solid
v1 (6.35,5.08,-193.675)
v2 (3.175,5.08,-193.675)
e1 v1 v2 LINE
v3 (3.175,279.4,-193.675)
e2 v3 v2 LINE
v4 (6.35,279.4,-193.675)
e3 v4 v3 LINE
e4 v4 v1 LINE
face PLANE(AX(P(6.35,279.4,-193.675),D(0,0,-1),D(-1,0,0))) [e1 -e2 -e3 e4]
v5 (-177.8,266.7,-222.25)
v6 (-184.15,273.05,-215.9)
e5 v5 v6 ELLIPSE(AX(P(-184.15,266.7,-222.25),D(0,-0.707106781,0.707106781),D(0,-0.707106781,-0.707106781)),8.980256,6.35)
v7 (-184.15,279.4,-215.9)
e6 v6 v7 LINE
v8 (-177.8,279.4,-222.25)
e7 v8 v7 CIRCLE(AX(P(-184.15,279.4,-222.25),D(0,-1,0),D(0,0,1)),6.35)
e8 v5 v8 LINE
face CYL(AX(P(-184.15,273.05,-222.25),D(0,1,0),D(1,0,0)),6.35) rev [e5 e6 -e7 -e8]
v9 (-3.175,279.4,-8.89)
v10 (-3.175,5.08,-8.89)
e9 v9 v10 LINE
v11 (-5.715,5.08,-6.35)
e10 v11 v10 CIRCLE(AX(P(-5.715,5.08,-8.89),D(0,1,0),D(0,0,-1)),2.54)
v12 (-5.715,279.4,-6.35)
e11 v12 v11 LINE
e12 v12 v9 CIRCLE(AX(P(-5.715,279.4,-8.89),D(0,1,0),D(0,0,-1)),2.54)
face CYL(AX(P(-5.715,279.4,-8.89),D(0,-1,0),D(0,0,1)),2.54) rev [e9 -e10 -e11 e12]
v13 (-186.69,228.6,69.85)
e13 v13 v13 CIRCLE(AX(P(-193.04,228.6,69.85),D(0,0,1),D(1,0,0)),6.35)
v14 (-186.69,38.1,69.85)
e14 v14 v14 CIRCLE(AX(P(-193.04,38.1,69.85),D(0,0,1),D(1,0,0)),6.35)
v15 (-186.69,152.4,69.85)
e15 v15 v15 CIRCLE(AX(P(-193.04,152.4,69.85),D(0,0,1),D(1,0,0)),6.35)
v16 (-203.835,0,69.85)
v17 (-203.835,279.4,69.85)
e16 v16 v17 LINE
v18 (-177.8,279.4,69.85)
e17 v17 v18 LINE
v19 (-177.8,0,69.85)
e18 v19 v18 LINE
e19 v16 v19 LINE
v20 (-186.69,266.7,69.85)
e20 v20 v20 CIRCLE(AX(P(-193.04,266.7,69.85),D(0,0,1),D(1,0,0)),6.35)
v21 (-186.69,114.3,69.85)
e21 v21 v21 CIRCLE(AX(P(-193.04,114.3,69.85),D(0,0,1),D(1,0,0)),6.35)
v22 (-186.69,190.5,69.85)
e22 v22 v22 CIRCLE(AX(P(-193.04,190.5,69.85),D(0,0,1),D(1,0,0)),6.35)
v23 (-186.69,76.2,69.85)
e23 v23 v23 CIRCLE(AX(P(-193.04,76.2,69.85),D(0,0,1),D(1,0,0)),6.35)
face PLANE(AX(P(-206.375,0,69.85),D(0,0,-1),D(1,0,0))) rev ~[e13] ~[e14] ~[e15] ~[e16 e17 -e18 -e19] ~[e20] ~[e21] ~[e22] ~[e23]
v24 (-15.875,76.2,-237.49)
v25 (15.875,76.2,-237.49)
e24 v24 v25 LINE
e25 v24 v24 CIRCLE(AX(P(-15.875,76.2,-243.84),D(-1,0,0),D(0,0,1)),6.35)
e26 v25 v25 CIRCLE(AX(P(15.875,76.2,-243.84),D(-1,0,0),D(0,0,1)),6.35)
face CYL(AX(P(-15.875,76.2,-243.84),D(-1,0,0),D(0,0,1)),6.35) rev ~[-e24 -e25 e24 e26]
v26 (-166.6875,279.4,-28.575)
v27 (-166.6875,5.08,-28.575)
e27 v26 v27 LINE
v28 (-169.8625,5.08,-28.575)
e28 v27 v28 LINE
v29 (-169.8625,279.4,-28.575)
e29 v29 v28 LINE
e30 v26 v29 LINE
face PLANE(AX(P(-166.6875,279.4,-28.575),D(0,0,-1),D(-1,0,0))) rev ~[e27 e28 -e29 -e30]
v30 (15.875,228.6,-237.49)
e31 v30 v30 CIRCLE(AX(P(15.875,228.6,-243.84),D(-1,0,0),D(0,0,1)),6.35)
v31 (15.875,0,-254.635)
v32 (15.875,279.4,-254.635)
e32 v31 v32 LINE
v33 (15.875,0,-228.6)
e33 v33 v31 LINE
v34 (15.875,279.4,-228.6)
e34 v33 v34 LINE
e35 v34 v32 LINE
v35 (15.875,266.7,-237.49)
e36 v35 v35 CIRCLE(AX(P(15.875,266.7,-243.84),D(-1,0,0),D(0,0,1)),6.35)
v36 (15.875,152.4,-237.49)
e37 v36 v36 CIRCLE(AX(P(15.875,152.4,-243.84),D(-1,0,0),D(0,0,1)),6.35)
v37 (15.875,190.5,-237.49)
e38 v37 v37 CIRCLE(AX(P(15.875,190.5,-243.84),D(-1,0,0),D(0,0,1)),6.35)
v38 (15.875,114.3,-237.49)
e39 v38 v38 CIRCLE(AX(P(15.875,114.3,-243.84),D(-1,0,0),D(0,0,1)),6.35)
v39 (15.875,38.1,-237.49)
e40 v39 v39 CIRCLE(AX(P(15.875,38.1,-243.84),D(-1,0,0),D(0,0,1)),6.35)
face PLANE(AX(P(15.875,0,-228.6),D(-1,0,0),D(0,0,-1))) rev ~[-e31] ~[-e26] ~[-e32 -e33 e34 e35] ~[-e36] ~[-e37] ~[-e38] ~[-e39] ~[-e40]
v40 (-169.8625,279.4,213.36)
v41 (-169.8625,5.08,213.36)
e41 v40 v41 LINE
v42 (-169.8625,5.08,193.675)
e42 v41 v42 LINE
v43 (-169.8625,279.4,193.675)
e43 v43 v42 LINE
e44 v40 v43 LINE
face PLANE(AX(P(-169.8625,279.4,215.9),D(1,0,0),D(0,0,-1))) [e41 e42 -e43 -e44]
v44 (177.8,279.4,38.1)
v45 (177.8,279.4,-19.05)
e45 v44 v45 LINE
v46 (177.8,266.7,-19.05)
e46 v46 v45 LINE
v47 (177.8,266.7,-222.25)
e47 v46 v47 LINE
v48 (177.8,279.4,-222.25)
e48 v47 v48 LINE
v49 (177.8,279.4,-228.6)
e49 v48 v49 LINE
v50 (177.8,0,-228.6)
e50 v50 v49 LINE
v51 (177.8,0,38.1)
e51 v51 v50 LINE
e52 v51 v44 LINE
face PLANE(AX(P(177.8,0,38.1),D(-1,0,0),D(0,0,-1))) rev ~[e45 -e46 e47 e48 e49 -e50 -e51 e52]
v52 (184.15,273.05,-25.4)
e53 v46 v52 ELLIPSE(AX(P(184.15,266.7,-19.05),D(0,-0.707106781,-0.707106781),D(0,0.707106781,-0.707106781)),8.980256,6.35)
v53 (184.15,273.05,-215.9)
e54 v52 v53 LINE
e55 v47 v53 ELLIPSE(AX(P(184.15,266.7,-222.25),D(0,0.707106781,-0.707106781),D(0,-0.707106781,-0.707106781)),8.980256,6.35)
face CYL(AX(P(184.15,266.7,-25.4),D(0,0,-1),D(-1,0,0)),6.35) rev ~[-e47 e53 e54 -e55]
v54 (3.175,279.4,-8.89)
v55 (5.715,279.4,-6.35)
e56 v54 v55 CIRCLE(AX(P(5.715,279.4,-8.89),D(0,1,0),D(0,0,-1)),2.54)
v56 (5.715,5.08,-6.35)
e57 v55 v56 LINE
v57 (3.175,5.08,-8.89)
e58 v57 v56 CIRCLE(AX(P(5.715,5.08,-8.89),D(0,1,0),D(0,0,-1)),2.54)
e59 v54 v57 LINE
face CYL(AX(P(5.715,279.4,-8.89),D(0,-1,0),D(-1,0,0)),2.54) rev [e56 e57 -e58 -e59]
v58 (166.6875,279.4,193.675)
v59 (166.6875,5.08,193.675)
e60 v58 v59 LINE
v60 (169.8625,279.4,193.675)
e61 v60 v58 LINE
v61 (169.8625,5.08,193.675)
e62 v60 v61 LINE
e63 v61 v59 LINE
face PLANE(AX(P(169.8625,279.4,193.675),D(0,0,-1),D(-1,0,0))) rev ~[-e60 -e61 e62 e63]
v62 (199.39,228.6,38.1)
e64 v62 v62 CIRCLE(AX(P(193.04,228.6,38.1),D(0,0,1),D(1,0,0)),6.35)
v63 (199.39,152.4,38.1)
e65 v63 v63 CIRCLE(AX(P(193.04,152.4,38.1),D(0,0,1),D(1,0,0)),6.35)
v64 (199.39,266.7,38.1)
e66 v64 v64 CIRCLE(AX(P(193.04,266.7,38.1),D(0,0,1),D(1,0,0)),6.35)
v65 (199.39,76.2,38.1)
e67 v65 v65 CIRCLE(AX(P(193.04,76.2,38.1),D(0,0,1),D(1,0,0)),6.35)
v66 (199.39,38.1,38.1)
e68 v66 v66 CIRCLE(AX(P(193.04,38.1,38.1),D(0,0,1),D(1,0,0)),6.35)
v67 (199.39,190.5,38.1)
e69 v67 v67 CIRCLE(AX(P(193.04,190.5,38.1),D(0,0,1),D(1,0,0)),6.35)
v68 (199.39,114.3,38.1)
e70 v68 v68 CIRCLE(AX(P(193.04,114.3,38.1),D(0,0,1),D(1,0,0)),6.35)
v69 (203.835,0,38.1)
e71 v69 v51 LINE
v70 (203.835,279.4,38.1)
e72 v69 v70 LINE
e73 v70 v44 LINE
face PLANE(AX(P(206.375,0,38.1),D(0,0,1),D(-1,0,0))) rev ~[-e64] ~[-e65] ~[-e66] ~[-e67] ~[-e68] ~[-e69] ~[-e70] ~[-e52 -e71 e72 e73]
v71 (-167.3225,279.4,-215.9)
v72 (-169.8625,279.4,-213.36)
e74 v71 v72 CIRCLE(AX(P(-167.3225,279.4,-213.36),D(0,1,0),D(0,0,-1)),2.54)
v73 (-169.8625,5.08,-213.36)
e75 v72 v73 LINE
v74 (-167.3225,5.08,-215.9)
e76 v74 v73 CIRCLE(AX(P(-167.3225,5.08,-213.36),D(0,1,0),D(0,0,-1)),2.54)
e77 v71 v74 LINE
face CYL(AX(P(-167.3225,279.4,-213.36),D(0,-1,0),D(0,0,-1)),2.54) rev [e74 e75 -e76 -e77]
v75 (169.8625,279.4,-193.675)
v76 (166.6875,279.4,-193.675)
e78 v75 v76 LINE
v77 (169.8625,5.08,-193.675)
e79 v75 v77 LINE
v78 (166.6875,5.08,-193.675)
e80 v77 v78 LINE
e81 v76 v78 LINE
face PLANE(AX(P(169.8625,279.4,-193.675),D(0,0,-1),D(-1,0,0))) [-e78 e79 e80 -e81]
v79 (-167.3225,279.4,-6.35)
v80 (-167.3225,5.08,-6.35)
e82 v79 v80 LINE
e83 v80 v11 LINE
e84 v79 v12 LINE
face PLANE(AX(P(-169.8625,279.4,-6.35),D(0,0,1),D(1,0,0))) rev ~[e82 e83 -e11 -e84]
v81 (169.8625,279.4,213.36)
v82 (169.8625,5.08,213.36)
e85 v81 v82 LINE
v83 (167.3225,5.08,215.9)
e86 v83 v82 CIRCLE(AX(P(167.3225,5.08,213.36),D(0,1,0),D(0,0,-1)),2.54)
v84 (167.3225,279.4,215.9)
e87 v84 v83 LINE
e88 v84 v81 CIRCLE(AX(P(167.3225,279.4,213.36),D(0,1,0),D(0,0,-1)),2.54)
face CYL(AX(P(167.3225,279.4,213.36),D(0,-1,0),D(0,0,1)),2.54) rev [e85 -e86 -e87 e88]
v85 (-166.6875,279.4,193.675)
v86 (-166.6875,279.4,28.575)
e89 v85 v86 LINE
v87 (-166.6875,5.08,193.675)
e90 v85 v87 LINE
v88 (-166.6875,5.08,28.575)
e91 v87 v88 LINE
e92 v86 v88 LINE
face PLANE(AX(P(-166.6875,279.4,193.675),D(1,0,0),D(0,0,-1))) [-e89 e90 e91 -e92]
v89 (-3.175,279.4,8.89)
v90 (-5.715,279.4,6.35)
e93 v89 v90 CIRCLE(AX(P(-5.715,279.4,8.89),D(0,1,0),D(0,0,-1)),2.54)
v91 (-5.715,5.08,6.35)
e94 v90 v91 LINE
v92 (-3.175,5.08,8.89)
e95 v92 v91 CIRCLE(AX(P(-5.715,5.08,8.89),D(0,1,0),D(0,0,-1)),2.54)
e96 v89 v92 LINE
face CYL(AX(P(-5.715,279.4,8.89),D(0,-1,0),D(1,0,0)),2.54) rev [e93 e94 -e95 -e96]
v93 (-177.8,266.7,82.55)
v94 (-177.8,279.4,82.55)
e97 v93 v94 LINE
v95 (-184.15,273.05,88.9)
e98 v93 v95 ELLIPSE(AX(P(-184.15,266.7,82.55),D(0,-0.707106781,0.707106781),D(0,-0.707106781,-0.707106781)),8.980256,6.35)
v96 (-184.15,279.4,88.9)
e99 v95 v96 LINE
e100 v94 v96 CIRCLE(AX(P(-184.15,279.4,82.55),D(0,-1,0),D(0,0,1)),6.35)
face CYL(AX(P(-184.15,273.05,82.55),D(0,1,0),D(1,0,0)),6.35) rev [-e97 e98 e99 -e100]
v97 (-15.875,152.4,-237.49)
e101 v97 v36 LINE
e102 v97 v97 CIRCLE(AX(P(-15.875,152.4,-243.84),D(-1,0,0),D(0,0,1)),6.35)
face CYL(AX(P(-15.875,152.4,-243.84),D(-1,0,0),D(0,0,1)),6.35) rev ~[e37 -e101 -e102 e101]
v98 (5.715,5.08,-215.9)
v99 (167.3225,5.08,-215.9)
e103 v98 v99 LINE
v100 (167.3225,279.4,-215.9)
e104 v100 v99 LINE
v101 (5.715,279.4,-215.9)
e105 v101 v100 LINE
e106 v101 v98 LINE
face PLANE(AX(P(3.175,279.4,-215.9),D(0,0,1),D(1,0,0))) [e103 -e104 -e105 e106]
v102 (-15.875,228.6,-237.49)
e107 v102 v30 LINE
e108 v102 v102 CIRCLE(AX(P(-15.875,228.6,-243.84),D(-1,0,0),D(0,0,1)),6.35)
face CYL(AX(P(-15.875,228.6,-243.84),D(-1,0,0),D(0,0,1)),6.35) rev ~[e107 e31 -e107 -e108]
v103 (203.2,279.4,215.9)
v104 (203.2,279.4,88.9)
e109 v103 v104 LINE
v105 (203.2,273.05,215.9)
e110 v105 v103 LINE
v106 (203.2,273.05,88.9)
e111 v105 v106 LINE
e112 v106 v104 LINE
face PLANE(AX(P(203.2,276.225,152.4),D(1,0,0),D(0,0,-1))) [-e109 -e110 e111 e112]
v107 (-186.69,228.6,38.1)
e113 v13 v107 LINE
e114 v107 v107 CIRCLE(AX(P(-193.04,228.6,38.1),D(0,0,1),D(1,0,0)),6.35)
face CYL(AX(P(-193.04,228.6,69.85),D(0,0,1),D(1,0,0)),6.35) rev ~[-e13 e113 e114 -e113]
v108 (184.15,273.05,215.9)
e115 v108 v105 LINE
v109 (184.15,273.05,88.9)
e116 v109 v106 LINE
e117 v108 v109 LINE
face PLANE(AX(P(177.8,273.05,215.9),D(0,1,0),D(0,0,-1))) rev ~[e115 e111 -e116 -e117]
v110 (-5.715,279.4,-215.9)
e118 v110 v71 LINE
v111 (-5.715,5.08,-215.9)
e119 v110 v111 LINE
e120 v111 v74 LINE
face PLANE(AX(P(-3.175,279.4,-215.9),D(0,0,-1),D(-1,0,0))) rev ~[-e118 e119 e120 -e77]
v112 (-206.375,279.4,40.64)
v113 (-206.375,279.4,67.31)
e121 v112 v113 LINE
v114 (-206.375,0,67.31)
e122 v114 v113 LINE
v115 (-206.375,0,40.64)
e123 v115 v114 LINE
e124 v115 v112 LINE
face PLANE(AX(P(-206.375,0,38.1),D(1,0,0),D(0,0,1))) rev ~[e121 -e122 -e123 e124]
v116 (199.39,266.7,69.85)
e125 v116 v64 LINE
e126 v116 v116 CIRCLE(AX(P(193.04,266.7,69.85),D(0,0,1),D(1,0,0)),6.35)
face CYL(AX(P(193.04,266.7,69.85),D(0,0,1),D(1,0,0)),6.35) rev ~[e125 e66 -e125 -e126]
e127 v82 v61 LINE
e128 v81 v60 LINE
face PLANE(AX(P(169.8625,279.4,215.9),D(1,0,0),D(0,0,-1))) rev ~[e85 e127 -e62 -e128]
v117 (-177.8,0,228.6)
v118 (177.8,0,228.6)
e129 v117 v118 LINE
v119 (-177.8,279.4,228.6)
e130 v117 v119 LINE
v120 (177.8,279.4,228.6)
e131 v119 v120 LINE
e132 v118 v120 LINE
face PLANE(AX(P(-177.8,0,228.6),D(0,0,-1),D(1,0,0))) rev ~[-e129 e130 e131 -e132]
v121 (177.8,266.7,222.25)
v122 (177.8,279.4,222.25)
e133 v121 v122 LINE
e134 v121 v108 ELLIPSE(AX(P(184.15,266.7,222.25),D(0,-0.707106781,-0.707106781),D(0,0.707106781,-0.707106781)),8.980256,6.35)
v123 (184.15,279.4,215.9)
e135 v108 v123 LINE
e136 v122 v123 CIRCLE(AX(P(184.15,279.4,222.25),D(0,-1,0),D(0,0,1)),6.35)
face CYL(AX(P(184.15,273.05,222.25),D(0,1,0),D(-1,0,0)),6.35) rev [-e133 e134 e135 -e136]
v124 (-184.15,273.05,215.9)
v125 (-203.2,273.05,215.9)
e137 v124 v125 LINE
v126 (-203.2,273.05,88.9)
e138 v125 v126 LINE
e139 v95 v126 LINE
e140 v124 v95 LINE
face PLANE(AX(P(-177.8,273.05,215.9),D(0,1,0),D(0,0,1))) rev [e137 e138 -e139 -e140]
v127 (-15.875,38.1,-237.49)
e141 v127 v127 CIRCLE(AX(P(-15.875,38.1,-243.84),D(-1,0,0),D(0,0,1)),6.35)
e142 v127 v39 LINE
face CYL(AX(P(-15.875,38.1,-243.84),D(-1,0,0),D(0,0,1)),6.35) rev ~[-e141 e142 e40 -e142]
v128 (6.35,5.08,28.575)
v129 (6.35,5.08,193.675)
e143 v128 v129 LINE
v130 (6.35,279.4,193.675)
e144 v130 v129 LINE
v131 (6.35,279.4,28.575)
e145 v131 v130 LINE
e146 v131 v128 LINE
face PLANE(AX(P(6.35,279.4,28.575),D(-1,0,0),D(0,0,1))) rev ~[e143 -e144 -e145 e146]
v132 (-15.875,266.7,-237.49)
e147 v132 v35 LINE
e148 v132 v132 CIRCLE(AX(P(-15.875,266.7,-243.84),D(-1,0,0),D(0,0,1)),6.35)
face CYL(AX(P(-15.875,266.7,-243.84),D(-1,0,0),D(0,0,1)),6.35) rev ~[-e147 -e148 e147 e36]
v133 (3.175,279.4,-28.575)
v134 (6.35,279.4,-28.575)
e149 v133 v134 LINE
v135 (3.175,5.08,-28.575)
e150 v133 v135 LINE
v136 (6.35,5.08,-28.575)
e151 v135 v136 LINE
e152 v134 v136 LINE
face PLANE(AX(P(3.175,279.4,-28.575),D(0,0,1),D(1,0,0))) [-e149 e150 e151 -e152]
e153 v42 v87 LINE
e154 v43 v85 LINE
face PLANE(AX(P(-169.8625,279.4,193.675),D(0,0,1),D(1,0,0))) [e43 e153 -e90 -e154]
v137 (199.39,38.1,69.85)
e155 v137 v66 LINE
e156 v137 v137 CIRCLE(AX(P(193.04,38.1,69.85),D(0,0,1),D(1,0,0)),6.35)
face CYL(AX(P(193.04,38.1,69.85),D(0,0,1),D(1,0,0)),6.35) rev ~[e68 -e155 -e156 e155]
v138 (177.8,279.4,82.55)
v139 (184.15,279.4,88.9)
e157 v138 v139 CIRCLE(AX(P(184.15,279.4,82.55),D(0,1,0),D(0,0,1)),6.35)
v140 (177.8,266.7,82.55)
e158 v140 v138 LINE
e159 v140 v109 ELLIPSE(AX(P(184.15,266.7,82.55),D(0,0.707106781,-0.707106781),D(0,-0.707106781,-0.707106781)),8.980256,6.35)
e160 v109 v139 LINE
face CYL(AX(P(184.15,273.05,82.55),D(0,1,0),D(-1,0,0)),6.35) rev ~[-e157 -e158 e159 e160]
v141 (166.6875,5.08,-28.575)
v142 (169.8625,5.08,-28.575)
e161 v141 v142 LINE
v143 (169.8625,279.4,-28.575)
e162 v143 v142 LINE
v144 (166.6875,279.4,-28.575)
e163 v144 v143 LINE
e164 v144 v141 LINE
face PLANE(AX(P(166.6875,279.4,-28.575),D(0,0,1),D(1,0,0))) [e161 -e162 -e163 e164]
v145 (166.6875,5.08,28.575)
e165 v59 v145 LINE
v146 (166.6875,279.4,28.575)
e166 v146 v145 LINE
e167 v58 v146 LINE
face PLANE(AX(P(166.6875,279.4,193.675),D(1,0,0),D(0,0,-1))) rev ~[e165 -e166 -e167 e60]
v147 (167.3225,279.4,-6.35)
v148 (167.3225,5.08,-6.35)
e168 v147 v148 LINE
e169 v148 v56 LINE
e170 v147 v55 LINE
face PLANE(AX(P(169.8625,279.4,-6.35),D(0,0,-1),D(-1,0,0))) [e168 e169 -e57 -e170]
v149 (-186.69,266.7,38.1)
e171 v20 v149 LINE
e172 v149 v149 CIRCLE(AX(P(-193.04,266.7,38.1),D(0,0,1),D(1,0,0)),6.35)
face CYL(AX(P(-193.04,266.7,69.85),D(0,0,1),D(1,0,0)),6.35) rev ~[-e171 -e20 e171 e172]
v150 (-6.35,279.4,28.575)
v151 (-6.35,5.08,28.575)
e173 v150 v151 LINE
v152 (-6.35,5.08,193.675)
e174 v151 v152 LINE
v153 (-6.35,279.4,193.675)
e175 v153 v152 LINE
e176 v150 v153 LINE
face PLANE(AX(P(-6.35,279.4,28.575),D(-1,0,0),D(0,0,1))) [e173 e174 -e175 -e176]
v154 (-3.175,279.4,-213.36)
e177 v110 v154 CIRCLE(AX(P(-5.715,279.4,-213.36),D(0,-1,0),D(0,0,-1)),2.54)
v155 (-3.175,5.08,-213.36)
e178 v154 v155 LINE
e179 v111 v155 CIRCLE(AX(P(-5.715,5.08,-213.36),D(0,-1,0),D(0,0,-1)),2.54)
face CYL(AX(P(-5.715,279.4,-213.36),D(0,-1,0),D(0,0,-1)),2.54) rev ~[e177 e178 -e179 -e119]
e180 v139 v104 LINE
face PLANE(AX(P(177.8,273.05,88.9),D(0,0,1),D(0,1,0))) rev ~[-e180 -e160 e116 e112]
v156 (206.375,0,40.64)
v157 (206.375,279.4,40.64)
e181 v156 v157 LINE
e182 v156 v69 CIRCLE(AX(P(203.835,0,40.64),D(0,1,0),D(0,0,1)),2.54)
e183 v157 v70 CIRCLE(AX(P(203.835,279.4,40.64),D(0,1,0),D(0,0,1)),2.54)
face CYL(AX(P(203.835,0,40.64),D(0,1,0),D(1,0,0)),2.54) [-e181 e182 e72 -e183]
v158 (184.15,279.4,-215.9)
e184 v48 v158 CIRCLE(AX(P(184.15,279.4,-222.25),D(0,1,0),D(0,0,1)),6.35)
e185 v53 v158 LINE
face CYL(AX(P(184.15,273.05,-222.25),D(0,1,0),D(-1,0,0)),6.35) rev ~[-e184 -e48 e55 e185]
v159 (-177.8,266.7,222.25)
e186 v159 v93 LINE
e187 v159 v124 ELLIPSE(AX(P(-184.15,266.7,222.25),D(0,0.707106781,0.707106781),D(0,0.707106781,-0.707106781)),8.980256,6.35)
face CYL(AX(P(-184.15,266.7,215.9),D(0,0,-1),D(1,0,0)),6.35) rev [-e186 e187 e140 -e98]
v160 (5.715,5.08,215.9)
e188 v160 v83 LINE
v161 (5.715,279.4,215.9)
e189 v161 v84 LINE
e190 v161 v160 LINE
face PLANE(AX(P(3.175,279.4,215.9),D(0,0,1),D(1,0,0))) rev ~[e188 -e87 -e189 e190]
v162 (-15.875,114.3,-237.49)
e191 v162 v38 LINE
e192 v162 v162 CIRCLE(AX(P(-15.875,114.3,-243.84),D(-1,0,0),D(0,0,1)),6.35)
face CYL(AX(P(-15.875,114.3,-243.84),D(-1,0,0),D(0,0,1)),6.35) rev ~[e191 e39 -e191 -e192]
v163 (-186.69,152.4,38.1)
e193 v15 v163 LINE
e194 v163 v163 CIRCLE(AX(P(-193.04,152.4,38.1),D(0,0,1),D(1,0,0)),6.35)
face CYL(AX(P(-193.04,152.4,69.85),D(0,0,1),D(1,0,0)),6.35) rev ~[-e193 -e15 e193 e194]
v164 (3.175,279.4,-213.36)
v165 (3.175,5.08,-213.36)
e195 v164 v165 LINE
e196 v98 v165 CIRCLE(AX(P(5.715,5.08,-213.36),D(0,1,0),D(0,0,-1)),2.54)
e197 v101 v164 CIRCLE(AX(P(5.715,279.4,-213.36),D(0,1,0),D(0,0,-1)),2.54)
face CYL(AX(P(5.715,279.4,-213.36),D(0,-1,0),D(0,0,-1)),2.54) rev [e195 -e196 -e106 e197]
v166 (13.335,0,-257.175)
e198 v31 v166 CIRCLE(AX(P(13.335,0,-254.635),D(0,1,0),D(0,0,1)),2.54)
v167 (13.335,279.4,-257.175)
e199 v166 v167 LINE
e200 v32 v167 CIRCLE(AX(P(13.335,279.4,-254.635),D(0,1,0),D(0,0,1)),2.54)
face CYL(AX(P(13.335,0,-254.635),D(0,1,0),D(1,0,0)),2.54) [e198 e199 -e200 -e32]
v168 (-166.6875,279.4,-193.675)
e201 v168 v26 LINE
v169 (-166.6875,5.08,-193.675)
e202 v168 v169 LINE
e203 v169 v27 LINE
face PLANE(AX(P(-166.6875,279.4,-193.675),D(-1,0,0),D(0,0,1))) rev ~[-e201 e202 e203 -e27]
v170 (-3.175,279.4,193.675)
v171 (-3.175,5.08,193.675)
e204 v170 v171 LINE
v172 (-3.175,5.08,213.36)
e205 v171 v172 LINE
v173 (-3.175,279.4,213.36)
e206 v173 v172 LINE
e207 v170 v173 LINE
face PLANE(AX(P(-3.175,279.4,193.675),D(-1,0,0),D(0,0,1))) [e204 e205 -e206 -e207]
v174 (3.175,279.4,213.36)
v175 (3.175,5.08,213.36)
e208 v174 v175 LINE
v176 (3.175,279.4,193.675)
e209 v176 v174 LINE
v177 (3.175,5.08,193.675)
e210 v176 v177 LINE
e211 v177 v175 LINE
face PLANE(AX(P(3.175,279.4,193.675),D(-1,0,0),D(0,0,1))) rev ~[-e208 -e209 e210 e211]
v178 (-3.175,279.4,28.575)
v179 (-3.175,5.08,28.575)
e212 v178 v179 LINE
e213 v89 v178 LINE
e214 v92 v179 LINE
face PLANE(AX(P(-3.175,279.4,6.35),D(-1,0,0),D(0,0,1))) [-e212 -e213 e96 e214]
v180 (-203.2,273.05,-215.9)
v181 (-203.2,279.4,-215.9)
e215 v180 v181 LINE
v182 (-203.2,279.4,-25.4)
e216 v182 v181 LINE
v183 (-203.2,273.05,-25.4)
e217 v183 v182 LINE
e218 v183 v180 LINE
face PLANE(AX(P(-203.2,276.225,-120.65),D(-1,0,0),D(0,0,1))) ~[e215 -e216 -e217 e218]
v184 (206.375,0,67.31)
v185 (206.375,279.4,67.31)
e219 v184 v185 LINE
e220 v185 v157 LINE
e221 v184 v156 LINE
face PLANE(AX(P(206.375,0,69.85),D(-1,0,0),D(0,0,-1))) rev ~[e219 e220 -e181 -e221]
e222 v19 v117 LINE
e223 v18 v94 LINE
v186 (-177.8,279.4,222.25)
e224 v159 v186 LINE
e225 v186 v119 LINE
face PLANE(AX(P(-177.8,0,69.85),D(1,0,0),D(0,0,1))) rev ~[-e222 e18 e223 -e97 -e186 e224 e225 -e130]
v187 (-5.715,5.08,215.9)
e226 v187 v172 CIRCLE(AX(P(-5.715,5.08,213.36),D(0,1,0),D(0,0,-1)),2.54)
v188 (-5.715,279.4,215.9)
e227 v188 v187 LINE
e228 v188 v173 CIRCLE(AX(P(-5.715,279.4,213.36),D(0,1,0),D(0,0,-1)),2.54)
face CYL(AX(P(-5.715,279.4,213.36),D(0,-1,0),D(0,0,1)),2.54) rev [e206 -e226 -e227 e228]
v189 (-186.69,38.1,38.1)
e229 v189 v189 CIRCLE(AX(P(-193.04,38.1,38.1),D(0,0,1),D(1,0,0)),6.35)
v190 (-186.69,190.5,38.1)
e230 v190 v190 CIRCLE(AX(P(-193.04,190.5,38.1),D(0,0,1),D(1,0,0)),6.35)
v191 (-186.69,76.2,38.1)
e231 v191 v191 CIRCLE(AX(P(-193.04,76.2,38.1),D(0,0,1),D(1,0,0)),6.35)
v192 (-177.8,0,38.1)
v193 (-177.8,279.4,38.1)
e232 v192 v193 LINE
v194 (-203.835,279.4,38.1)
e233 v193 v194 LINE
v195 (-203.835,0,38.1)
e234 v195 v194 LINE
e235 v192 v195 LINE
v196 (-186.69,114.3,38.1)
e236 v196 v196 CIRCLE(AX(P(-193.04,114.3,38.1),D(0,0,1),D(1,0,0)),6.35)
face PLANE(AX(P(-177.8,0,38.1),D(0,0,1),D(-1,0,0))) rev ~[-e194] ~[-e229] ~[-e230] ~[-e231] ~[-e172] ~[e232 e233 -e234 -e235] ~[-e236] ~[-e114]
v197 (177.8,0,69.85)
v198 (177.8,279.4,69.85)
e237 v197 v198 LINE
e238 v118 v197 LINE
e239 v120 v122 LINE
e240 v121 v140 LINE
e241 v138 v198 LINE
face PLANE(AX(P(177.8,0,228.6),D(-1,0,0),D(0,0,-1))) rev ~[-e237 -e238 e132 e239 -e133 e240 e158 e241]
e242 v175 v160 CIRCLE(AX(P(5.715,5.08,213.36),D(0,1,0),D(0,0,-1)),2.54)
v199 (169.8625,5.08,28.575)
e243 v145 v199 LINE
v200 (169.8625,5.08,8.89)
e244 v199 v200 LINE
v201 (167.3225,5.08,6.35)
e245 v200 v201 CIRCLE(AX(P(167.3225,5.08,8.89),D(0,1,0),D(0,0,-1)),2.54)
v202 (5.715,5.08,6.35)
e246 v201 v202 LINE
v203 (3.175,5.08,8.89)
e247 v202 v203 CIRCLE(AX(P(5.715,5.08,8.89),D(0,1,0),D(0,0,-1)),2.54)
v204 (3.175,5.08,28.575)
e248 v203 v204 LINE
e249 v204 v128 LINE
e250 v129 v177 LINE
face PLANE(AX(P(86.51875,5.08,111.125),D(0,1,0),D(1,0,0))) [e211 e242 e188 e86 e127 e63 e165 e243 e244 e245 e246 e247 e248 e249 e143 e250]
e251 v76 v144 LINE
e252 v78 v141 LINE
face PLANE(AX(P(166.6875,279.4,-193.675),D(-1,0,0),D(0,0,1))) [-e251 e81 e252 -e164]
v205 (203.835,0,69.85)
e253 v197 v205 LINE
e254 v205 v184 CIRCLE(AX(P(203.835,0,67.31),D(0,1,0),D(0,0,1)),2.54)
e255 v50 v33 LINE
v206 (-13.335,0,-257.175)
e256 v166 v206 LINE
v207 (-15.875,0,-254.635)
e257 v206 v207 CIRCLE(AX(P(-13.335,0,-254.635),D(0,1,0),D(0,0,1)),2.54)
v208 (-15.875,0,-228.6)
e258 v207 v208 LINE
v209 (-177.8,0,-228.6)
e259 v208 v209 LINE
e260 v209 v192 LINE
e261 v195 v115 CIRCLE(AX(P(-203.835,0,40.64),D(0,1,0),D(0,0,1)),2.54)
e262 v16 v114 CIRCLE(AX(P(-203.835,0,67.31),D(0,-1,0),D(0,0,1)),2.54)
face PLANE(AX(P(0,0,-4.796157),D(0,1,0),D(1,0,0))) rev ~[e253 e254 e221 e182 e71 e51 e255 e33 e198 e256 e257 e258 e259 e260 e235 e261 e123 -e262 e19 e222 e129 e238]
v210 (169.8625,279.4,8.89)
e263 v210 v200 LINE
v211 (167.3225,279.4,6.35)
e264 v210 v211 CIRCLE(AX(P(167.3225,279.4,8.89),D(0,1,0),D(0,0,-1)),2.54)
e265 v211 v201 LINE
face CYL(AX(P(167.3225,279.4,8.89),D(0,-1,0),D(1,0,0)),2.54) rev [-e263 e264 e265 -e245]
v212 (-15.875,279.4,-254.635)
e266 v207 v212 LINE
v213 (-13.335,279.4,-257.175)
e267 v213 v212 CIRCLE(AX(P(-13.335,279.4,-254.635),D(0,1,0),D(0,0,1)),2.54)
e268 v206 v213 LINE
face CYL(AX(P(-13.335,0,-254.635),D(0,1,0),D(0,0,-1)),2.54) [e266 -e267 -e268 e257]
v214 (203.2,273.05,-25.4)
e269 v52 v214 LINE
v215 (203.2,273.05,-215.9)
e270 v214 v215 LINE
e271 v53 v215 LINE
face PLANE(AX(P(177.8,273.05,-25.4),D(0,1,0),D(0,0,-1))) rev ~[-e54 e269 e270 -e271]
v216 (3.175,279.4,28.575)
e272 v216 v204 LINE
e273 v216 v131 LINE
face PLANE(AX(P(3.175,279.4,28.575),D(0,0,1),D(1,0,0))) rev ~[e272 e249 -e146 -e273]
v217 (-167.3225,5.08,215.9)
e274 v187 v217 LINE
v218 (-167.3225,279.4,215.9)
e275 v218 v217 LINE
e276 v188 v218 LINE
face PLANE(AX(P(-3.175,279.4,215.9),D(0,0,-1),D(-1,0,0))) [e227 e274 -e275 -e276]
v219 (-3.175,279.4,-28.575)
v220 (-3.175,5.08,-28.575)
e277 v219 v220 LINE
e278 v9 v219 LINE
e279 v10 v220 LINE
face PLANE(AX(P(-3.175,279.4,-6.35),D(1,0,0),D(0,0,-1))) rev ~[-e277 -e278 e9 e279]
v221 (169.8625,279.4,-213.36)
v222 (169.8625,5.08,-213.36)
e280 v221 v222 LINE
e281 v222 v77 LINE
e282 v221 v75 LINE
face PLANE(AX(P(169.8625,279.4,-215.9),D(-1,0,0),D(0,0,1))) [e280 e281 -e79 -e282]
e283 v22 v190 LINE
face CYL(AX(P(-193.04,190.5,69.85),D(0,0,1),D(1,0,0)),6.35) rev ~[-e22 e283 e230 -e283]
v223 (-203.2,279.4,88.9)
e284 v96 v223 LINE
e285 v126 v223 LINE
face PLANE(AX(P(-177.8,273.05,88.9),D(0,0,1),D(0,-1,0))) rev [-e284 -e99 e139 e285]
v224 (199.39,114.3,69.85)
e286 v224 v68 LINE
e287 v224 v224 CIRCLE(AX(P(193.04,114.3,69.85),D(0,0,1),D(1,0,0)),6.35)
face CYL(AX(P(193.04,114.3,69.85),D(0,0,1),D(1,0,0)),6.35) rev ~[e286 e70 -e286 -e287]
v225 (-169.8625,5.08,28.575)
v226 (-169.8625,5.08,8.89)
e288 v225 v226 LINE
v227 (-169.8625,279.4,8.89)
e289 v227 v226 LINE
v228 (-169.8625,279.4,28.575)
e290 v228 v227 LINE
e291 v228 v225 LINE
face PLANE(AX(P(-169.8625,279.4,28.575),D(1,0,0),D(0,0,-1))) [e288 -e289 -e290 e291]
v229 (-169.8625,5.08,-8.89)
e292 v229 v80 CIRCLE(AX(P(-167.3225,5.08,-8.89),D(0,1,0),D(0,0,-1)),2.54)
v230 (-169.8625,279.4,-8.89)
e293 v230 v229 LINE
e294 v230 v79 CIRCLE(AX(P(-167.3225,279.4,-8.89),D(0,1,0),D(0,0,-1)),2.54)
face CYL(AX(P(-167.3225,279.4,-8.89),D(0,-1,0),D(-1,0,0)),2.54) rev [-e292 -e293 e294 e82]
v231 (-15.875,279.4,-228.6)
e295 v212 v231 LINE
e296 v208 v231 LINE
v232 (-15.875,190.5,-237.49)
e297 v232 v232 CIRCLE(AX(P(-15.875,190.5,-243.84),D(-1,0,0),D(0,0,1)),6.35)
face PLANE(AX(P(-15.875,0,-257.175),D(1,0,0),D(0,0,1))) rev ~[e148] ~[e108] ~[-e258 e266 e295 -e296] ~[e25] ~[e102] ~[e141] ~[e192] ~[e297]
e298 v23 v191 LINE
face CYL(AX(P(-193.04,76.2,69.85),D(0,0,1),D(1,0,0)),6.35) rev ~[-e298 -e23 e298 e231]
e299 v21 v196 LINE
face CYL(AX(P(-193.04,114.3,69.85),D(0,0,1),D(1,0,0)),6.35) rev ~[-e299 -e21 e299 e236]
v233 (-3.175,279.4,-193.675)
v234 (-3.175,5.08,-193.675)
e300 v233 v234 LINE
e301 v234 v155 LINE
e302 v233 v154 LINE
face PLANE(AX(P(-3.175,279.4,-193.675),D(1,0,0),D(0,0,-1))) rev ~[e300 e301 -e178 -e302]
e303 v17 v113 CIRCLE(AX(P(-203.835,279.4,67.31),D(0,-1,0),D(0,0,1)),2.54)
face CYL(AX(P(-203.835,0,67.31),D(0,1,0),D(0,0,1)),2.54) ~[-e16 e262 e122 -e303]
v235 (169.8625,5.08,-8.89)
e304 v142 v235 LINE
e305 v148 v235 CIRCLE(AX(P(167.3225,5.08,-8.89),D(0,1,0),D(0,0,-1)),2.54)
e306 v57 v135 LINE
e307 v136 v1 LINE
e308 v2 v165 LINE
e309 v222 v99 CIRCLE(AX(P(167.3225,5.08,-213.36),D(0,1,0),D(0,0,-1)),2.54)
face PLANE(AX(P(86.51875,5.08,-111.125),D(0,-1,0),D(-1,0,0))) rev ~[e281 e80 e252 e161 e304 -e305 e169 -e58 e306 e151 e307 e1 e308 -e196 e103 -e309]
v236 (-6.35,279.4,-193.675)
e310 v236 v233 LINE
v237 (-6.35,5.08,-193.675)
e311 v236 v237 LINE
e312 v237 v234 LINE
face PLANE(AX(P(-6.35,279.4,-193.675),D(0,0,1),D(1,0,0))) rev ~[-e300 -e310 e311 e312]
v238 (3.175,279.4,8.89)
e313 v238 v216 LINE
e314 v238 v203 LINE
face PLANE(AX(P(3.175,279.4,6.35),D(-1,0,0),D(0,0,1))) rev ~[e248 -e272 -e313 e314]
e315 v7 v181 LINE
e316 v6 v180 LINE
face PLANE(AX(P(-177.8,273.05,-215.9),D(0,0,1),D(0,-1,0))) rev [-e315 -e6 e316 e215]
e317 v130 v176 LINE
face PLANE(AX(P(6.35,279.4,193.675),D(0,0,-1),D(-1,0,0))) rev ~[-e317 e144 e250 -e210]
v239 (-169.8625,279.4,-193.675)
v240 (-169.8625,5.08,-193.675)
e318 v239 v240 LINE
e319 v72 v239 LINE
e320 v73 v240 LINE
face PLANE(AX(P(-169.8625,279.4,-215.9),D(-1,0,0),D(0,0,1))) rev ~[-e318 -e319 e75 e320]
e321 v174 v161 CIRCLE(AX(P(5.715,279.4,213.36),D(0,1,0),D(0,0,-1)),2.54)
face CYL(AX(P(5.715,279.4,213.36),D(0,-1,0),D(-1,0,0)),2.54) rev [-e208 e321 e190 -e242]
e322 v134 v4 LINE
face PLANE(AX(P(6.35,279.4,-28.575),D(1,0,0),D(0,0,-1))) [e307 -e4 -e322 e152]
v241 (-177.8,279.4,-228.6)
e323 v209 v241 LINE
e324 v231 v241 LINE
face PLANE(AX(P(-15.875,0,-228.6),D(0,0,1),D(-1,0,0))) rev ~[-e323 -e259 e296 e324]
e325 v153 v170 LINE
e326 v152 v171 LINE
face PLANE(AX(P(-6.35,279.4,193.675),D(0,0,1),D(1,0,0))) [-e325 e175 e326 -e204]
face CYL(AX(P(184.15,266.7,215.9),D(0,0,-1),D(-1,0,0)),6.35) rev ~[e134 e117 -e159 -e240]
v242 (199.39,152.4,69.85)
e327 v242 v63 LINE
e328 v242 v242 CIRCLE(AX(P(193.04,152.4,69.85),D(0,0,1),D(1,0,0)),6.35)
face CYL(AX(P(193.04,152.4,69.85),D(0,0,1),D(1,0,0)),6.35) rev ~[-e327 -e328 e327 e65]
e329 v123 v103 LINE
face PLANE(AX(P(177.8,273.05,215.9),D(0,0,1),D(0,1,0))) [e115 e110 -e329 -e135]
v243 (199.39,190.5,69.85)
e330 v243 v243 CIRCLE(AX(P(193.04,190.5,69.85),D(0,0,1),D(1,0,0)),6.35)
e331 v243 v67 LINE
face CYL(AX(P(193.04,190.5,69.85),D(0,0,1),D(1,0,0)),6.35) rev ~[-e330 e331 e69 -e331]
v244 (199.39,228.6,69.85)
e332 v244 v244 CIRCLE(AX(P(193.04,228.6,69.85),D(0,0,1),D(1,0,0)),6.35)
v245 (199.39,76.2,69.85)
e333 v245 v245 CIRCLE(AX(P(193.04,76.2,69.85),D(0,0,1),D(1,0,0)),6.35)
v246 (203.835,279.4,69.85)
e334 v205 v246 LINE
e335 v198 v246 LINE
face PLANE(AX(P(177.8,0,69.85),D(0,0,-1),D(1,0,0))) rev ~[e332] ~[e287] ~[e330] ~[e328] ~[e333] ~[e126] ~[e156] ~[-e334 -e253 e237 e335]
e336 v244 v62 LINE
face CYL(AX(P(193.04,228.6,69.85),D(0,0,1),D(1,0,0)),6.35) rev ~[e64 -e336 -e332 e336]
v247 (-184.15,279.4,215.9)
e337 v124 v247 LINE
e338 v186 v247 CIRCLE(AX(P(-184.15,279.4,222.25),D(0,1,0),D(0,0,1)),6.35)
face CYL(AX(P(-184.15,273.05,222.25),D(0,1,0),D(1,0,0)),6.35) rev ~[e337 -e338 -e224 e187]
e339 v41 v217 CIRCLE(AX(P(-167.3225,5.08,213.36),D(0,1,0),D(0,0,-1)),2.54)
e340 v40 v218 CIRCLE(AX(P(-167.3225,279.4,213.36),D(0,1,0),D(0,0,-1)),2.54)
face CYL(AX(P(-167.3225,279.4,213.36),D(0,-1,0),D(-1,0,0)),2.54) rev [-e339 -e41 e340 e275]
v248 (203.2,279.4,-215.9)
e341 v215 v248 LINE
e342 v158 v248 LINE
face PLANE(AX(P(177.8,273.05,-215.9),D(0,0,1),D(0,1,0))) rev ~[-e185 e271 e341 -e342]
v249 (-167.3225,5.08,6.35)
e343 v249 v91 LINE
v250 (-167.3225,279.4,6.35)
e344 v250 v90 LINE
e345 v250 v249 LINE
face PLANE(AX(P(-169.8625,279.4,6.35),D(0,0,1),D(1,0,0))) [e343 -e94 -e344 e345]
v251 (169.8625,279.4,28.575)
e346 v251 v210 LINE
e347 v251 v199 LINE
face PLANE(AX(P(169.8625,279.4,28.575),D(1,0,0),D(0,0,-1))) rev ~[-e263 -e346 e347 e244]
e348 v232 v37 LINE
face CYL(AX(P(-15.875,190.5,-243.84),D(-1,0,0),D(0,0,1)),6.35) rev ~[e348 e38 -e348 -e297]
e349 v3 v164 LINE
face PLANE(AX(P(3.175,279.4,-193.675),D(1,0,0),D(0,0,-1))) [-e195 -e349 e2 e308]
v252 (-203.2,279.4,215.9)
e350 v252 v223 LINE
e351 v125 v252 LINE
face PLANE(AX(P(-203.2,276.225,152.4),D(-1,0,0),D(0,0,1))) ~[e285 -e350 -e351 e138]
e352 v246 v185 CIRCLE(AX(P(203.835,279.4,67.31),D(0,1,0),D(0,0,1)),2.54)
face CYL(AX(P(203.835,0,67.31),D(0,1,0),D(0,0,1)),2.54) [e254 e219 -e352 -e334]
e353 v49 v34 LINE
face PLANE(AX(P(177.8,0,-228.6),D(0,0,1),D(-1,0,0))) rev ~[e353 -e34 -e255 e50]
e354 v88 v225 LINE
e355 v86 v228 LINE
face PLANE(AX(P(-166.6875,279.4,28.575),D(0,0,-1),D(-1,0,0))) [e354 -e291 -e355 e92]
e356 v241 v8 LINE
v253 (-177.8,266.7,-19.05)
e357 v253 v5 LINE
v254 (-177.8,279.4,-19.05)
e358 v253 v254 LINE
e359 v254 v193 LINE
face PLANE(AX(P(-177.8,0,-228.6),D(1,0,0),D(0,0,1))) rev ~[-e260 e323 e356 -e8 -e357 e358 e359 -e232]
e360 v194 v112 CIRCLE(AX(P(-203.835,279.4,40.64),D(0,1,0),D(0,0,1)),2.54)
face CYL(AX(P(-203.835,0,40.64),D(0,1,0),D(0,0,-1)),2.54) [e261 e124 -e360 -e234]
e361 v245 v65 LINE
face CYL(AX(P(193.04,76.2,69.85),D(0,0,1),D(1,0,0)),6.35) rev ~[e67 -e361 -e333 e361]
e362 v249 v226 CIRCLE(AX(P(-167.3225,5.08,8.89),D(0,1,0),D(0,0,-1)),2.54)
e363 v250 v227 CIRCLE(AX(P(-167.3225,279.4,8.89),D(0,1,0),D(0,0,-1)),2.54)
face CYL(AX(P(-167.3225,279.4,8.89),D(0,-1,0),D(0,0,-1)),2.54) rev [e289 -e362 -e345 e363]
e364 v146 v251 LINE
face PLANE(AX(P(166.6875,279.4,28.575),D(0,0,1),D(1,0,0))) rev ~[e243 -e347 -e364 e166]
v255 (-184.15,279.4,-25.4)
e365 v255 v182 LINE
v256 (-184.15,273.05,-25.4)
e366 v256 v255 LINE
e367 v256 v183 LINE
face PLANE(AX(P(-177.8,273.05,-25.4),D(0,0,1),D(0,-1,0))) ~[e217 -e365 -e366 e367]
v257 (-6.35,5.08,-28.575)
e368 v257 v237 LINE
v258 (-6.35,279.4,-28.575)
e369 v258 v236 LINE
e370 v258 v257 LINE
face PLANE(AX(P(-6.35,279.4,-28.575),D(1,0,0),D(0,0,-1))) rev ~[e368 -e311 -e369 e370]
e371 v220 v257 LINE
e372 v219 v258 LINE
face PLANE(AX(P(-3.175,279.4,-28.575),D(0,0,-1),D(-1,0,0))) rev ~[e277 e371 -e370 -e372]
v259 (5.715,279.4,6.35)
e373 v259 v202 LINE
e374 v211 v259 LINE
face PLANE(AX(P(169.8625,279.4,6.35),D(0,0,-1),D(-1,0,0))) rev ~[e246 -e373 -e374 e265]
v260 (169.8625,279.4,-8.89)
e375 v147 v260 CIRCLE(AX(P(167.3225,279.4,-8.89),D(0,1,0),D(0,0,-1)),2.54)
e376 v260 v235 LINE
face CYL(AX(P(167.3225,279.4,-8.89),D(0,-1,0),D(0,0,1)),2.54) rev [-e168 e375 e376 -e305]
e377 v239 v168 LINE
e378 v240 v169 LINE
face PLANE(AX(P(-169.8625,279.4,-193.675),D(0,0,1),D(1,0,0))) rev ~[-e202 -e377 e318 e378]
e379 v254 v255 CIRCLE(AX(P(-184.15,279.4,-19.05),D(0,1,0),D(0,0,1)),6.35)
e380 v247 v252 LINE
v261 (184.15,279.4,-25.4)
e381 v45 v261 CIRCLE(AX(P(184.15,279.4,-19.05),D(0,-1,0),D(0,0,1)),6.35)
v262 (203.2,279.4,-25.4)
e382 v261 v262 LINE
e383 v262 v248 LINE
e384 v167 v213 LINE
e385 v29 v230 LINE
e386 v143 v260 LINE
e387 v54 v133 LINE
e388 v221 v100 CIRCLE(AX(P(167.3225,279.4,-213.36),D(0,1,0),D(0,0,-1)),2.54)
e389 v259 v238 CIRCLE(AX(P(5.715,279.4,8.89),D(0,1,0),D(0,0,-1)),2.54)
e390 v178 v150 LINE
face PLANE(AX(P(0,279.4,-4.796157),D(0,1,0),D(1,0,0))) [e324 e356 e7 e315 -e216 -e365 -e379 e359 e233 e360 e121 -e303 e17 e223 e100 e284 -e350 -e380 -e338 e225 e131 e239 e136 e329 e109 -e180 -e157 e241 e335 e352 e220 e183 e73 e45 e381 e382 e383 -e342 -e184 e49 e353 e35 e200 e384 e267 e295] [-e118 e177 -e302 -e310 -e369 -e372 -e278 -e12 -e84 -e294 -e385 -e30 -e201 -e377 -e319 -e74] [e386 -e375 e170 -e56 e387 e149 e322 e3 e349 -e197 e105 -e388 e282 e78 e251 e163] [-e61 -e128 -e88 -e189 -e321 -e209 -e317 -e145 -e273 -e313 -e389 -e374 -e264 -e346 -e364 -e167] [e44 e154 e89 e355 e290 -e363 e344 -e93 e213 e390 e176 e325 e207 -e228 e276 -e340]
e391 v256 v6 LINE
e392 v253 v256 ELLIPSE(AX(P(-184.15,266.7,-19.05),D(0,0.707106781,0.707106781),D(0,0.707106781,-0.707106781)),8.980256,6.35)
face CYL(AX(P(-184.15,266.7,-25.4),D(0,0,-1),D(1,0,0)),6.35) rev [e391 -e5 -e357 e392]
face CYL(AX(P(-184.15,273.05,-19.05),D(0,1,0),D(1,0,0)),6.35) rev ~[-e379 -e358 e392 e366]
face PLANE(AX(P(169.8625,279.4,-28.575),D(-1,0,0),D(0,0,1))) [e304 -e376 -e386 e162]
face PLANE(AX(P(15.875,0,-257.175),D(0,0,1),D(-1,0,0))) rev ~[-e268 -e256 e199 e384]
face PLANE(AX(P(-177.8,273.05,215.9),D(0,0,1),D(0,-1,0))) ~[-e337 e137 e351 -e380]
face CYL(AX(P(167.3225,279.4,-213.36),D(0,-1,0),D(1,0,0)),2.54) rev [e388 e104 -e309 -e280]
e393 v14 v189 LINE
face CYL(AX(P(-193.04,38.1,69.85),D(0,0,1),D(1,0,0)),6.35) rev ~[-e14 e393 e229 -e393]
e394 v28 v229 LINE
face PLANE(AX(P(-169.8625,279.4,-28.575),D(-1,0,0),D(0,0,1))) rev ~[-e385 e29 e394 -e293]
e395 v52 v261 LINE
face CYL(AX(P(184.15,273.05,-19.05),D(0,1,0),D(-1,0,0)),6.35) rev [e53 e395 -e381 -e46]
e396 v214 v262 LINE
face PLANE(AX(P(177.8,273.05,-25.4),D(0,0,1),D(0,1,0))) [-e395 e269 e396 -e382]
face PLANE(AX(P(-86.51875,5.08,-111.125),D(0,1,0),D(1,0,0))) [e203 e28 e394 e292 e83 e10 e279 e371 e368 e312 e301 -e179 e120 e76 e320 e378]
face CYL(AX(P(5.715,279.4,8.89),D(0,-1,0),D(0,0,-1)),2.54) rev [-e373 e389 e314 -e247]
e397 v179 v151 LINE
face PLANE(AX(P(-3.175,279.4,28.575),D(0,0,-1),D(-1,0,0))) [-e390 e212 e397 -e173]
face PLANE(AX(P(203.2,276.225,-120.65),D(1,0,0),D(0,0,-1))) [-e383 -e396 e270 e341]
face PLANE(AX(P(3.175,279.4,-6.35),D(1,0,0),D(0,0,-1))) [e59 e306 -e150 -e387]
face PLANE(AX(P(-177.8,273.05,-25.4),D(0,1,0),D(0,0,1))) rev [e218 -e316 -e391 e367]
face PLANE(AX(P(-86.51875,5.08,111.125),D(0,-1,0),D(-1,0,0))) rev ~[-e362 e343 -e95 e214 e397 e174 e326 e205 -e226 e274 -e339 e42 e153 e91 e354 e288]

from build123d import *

# Parameters (mm, degrees)
BOSS_EXTRUDE1_DEPTH = 279.4
SKETCH2_R           = 6.35
CUT_EXTRUDE1_DEPTH  = 45.72
SKETCH3_R           = 6.35
CUT_EXTRUDE2_DEPTH  = 45.72
FILLET1_R           = 2.54
CUT_EXTRUDE3_DEPTH  = 274.32
FILLET2_R           = 2.54
SKETCH6_W           = 127
SKETCH6_H           = 6.35
BOSS_EXTRUDE2_DEPTH = 25.4
SKETCH8_W           = 190.5
SKETCH8_H           = 6.35
BOSS_EXTRUDE3_DEPTH = 25.4
FILLET3_R           = 6.35


with BuildPart() as part:
    # Sketch1 → Boss-Extrude1 (new body)
    with BuildSketch(Plane(origin=(0, 0, 0), x_dir=(1, 0, 0), z_dir=(0, 1, 0))):
        Polygon((-177.8, -228.6), (-31.75, -228.6), (31.75, -228.6), (177.8, -228.6), (177.8, -69.85), (206.375, -69.85), (206.375, -38.1), (177.8, -38.1), (177.8, 228.6), (15.875, 228.6), (15.875, 257.175), (-15.875, 257.175), (-15.875, 228.6), (-177.8, 228.6), (-177.8, -38.1), (-206.375, -38.1), (-206.375, -69.85), (-177.8, -69.85), align=None)
    extrude(amount=BOSS_EXTRUDE1_DEPTH)

    # Sketch2 → Cut-Extrude1 (cut)
    with BuildSketch(Plane.XY.offset(69.85)):
        with Locations((-193.04, 38.1)):
            Circle(SKETCH2_R)
        with Locations((-193.04, 76.2)):
            Circle(SKETCH2_R)
        with Locations((-193.04, 114.3)):
            Circle(SKETCH2_R)
        with Locations((-193.04, 152.4)):
            Circle(SKETCH2_R)
        with Locations((-193.04, 190.5)):
            Circle(SKETCH2_R)
        with Locations((-193.04, 228.6)):
            Circle(SKETCH2_R)
        with Locations((-193.04, 266.7)):
            Circle(SKETCH2_R)
        with Locations((193.04, 266.7)):
            Circle(SKETCH2_R)
        with Locations((193.04, 228.6)):
            Circle(SKETCH2_R)
        with Locations((193.04, 190.5)):
            Circle(SKETCH2_R)
        with Locations((193.04, 152.4)):
            Circle(SKETCH2_R)
        with Locations((193.04, 114.3)):
            Circle(SKETCH2_R)
        with Locations((193.04, 76.2)):
            Circle(SKETCH2_R)
        with Locations((193.04, 38.1)):
            Circle(SKETCH2_R)
    extrude(amount=-CUT_EXTRUDE1_DEPTH, mode=Mode.SUBTRACT)

    # Sketch3 → Cut-Extrude2 (cut)
    with BuildSketch(Plane.ZY.offset(15.875)):
        with Locations((-243.84, 38.1)):
            Circle(SKETCH3_R)
        with Locations((-243.84, 76.2)):
            Circle(SKETCH3_R)
        with Locations((-243.84, 114.3)):
            Circle(SKETCH3_R)
        with Locations((-243.84, 152.4)):
            Circle(SKETCH3_R)
        with Locations((-243.84, 190.5)):
            Circle(SKETCH3_R)
        with Locations((-243.84, 228.6)):
            Circle(SKETCH3_R)
        with Locations((-243.84, 266.7)):
            Circle(SKETCH3_R)
    extrude(amount=-CUT_EXTRUDE2_DEPTH, mode=Mode.SUBTRACT)

    # Fillet1
    fillet1_edges = [part.edges().sort_by_distance(p)[0] for p in [
        (-206.375, 139.7, 69.85),
        (-206.375, 139.7, 38.1),
        (-15.875, 139.7, -257.175),
        (15.875, 139.7, -257.175),
        (206.375, 139.7, 38.1),
        (206.375, 139.7, 69.85),
    ]]
    fillet(fillet1_edges, radius=FILLET1_R)

    # Sketch4 → Cut-Extrude3 (cut)
    with BuildSketch(Plane(origin=(0, 279.4, 0), x_dir=(1, 0, 0), z_dir=(0, 1, 0))):
        Polygon((-3.175, 215.9), (-169.8625, 215.9), (-169.8625, 193.675), (-166.6875, 193.675), (-166.6875, 28.575), (-169.8625, 28.575), (-169.8625, 6.35), (-3.175, 6.35), (-3.175, 28.575), (-6.35, 28.575), (-6.35, 193.675), (-3.175, 193.675), align=None)
        Polygon((3.175, 28.575), (6.35, 28.575), (6.35, 193.675), (3.175, 193.675), (3.175, 215.9), (169.8625, 215.9), (169.8625, 193.675), (166.6875, 193.675), (166.6875, 28.575), (169.8625, 28.575), (169.8625, 6.35), (3.175, 6.35), align=None)
        Polygon((3.175, -193.675), (3.175, -215.9), (169.8625, -215.9), (169.8625, -193.675), (166.6875, -193.675), (166.6875, -28.575), (169.8625, -28.575), (169.8625, -6.35), (3.175, -6.35), (3.175, -28.575), (6.35, -28.575), (6.35, -193.675), align=None)
        Polygon((-3.175, -193.675), (-3.175, -215.9), (-169.8625, -215.9), (-169.8625, -193.675), (-166.6875, -193.675), (-166.6875, -28.575), (-169.8625, -28.575), (-169.8625, -6.35), (-3.175, -6.35), (-3.175, -28.575), (-6.35, -28.575), (-6.35, -193.675), align=None)
    extrude(amount=-CUT_EXTRUDE3_DEPTH, mode=Mode.SUBTRACT)

    # Fillet2
    fillet2_edges = [part.edges().sort_by_distance(p)[0] for p in [
        (-169.8625, 142.24, -215.9),
        (-3.175, 142.24, -215.9),
        (-3.175, 142.24, -6.35),
        (-169.8625, 142.24, -6.35),
        (-169.8625, 142.24, 6.35),
        (-3.175, 142.24, 6.35),
        (-3.175, 142.24, 215.9),
        (-169.8625, 142.24, 215.9),
        (3.175, 142.24, -6.35),
        (3.175, 142.24, -215.9),
        (169.8625, 142.24, -215.9),
        (169.8625, 142.24, -6.35),
        (3.175, 142.24, 6.35),
        (169.8625, 142.24, 6.35),
        (169.8625, 142.24, 215.9),
        (3.175, 142.24, 215.9),
    ]]
    fillet(fillet2_edges, radius=FILLET2_R)

    # Sketch6 → Boss-Extrude2 (add)
    with BuildSketch(Plane(origin=(177.8, 0, 0), x_dir=(0, 0, -1), z_dir=(1, 0, 0))):
        with Locations((-152.4, 276.225)):
            Rectangle(SKETCH6_W, SKETCH6_H)
    boss_extrude2 = extrude(amount=BOSS_EXTRUDE2_DEPTH)

    # Mirror1: Boss-Extrude2 across plane
    add(boss_extrude2.mirror(Plane(origin=(0, 0, 0), x_dir=(0, 0, 1), z_dir=(1, 0, 0))))

    # Sketch8 → Boss-Extrude3 (add)
    with BuildSketch(Plane(origin=(177.8, 0, 0), x_dir=(0, 0, -1), z_dir=(1, 0, 0))):
        with Locations((120.65, 276.225)):
            Rectangle(SKETCH8_W, SKETCH8_H)
    boss_extrude3 = extrude(amount=BOSS_EXTRUDE3_DEPTH)

    # Mirror2: Boss-Extrude3 across plane
    add(boss_extrude3.mirror(Plane(origin=(0, 0, 0), x_dir=(0, 0, 1), z_dir=(1, 0, 0))))

    # Fillet3
    fillet3_edges = [part.edges().sort_by_distance(p)[0] for p in [
        (177.8, 276.225, 215.9),
        (177.8, 273.05, 152.4),
        (177.8, 276.225, 88.9),
        (-177.8, 276.225, 215.9),
        (-177.8, 273.05, 152.4),
        (-177.8, 276.225, 88.9),
        (177.8, 276.225, -25.4),
        (177.8, 273.05, -120.65),
        (177.8, 276.225, -215.9),
        (-177.8, 276.225, -25.4),
        (-177.8, 273.05, -120.65),
        (-177.8, 276.225, -215.9),
    ]]
    fillet(fillet3_edges, radius=FILLET3_R)


solid = part.part
